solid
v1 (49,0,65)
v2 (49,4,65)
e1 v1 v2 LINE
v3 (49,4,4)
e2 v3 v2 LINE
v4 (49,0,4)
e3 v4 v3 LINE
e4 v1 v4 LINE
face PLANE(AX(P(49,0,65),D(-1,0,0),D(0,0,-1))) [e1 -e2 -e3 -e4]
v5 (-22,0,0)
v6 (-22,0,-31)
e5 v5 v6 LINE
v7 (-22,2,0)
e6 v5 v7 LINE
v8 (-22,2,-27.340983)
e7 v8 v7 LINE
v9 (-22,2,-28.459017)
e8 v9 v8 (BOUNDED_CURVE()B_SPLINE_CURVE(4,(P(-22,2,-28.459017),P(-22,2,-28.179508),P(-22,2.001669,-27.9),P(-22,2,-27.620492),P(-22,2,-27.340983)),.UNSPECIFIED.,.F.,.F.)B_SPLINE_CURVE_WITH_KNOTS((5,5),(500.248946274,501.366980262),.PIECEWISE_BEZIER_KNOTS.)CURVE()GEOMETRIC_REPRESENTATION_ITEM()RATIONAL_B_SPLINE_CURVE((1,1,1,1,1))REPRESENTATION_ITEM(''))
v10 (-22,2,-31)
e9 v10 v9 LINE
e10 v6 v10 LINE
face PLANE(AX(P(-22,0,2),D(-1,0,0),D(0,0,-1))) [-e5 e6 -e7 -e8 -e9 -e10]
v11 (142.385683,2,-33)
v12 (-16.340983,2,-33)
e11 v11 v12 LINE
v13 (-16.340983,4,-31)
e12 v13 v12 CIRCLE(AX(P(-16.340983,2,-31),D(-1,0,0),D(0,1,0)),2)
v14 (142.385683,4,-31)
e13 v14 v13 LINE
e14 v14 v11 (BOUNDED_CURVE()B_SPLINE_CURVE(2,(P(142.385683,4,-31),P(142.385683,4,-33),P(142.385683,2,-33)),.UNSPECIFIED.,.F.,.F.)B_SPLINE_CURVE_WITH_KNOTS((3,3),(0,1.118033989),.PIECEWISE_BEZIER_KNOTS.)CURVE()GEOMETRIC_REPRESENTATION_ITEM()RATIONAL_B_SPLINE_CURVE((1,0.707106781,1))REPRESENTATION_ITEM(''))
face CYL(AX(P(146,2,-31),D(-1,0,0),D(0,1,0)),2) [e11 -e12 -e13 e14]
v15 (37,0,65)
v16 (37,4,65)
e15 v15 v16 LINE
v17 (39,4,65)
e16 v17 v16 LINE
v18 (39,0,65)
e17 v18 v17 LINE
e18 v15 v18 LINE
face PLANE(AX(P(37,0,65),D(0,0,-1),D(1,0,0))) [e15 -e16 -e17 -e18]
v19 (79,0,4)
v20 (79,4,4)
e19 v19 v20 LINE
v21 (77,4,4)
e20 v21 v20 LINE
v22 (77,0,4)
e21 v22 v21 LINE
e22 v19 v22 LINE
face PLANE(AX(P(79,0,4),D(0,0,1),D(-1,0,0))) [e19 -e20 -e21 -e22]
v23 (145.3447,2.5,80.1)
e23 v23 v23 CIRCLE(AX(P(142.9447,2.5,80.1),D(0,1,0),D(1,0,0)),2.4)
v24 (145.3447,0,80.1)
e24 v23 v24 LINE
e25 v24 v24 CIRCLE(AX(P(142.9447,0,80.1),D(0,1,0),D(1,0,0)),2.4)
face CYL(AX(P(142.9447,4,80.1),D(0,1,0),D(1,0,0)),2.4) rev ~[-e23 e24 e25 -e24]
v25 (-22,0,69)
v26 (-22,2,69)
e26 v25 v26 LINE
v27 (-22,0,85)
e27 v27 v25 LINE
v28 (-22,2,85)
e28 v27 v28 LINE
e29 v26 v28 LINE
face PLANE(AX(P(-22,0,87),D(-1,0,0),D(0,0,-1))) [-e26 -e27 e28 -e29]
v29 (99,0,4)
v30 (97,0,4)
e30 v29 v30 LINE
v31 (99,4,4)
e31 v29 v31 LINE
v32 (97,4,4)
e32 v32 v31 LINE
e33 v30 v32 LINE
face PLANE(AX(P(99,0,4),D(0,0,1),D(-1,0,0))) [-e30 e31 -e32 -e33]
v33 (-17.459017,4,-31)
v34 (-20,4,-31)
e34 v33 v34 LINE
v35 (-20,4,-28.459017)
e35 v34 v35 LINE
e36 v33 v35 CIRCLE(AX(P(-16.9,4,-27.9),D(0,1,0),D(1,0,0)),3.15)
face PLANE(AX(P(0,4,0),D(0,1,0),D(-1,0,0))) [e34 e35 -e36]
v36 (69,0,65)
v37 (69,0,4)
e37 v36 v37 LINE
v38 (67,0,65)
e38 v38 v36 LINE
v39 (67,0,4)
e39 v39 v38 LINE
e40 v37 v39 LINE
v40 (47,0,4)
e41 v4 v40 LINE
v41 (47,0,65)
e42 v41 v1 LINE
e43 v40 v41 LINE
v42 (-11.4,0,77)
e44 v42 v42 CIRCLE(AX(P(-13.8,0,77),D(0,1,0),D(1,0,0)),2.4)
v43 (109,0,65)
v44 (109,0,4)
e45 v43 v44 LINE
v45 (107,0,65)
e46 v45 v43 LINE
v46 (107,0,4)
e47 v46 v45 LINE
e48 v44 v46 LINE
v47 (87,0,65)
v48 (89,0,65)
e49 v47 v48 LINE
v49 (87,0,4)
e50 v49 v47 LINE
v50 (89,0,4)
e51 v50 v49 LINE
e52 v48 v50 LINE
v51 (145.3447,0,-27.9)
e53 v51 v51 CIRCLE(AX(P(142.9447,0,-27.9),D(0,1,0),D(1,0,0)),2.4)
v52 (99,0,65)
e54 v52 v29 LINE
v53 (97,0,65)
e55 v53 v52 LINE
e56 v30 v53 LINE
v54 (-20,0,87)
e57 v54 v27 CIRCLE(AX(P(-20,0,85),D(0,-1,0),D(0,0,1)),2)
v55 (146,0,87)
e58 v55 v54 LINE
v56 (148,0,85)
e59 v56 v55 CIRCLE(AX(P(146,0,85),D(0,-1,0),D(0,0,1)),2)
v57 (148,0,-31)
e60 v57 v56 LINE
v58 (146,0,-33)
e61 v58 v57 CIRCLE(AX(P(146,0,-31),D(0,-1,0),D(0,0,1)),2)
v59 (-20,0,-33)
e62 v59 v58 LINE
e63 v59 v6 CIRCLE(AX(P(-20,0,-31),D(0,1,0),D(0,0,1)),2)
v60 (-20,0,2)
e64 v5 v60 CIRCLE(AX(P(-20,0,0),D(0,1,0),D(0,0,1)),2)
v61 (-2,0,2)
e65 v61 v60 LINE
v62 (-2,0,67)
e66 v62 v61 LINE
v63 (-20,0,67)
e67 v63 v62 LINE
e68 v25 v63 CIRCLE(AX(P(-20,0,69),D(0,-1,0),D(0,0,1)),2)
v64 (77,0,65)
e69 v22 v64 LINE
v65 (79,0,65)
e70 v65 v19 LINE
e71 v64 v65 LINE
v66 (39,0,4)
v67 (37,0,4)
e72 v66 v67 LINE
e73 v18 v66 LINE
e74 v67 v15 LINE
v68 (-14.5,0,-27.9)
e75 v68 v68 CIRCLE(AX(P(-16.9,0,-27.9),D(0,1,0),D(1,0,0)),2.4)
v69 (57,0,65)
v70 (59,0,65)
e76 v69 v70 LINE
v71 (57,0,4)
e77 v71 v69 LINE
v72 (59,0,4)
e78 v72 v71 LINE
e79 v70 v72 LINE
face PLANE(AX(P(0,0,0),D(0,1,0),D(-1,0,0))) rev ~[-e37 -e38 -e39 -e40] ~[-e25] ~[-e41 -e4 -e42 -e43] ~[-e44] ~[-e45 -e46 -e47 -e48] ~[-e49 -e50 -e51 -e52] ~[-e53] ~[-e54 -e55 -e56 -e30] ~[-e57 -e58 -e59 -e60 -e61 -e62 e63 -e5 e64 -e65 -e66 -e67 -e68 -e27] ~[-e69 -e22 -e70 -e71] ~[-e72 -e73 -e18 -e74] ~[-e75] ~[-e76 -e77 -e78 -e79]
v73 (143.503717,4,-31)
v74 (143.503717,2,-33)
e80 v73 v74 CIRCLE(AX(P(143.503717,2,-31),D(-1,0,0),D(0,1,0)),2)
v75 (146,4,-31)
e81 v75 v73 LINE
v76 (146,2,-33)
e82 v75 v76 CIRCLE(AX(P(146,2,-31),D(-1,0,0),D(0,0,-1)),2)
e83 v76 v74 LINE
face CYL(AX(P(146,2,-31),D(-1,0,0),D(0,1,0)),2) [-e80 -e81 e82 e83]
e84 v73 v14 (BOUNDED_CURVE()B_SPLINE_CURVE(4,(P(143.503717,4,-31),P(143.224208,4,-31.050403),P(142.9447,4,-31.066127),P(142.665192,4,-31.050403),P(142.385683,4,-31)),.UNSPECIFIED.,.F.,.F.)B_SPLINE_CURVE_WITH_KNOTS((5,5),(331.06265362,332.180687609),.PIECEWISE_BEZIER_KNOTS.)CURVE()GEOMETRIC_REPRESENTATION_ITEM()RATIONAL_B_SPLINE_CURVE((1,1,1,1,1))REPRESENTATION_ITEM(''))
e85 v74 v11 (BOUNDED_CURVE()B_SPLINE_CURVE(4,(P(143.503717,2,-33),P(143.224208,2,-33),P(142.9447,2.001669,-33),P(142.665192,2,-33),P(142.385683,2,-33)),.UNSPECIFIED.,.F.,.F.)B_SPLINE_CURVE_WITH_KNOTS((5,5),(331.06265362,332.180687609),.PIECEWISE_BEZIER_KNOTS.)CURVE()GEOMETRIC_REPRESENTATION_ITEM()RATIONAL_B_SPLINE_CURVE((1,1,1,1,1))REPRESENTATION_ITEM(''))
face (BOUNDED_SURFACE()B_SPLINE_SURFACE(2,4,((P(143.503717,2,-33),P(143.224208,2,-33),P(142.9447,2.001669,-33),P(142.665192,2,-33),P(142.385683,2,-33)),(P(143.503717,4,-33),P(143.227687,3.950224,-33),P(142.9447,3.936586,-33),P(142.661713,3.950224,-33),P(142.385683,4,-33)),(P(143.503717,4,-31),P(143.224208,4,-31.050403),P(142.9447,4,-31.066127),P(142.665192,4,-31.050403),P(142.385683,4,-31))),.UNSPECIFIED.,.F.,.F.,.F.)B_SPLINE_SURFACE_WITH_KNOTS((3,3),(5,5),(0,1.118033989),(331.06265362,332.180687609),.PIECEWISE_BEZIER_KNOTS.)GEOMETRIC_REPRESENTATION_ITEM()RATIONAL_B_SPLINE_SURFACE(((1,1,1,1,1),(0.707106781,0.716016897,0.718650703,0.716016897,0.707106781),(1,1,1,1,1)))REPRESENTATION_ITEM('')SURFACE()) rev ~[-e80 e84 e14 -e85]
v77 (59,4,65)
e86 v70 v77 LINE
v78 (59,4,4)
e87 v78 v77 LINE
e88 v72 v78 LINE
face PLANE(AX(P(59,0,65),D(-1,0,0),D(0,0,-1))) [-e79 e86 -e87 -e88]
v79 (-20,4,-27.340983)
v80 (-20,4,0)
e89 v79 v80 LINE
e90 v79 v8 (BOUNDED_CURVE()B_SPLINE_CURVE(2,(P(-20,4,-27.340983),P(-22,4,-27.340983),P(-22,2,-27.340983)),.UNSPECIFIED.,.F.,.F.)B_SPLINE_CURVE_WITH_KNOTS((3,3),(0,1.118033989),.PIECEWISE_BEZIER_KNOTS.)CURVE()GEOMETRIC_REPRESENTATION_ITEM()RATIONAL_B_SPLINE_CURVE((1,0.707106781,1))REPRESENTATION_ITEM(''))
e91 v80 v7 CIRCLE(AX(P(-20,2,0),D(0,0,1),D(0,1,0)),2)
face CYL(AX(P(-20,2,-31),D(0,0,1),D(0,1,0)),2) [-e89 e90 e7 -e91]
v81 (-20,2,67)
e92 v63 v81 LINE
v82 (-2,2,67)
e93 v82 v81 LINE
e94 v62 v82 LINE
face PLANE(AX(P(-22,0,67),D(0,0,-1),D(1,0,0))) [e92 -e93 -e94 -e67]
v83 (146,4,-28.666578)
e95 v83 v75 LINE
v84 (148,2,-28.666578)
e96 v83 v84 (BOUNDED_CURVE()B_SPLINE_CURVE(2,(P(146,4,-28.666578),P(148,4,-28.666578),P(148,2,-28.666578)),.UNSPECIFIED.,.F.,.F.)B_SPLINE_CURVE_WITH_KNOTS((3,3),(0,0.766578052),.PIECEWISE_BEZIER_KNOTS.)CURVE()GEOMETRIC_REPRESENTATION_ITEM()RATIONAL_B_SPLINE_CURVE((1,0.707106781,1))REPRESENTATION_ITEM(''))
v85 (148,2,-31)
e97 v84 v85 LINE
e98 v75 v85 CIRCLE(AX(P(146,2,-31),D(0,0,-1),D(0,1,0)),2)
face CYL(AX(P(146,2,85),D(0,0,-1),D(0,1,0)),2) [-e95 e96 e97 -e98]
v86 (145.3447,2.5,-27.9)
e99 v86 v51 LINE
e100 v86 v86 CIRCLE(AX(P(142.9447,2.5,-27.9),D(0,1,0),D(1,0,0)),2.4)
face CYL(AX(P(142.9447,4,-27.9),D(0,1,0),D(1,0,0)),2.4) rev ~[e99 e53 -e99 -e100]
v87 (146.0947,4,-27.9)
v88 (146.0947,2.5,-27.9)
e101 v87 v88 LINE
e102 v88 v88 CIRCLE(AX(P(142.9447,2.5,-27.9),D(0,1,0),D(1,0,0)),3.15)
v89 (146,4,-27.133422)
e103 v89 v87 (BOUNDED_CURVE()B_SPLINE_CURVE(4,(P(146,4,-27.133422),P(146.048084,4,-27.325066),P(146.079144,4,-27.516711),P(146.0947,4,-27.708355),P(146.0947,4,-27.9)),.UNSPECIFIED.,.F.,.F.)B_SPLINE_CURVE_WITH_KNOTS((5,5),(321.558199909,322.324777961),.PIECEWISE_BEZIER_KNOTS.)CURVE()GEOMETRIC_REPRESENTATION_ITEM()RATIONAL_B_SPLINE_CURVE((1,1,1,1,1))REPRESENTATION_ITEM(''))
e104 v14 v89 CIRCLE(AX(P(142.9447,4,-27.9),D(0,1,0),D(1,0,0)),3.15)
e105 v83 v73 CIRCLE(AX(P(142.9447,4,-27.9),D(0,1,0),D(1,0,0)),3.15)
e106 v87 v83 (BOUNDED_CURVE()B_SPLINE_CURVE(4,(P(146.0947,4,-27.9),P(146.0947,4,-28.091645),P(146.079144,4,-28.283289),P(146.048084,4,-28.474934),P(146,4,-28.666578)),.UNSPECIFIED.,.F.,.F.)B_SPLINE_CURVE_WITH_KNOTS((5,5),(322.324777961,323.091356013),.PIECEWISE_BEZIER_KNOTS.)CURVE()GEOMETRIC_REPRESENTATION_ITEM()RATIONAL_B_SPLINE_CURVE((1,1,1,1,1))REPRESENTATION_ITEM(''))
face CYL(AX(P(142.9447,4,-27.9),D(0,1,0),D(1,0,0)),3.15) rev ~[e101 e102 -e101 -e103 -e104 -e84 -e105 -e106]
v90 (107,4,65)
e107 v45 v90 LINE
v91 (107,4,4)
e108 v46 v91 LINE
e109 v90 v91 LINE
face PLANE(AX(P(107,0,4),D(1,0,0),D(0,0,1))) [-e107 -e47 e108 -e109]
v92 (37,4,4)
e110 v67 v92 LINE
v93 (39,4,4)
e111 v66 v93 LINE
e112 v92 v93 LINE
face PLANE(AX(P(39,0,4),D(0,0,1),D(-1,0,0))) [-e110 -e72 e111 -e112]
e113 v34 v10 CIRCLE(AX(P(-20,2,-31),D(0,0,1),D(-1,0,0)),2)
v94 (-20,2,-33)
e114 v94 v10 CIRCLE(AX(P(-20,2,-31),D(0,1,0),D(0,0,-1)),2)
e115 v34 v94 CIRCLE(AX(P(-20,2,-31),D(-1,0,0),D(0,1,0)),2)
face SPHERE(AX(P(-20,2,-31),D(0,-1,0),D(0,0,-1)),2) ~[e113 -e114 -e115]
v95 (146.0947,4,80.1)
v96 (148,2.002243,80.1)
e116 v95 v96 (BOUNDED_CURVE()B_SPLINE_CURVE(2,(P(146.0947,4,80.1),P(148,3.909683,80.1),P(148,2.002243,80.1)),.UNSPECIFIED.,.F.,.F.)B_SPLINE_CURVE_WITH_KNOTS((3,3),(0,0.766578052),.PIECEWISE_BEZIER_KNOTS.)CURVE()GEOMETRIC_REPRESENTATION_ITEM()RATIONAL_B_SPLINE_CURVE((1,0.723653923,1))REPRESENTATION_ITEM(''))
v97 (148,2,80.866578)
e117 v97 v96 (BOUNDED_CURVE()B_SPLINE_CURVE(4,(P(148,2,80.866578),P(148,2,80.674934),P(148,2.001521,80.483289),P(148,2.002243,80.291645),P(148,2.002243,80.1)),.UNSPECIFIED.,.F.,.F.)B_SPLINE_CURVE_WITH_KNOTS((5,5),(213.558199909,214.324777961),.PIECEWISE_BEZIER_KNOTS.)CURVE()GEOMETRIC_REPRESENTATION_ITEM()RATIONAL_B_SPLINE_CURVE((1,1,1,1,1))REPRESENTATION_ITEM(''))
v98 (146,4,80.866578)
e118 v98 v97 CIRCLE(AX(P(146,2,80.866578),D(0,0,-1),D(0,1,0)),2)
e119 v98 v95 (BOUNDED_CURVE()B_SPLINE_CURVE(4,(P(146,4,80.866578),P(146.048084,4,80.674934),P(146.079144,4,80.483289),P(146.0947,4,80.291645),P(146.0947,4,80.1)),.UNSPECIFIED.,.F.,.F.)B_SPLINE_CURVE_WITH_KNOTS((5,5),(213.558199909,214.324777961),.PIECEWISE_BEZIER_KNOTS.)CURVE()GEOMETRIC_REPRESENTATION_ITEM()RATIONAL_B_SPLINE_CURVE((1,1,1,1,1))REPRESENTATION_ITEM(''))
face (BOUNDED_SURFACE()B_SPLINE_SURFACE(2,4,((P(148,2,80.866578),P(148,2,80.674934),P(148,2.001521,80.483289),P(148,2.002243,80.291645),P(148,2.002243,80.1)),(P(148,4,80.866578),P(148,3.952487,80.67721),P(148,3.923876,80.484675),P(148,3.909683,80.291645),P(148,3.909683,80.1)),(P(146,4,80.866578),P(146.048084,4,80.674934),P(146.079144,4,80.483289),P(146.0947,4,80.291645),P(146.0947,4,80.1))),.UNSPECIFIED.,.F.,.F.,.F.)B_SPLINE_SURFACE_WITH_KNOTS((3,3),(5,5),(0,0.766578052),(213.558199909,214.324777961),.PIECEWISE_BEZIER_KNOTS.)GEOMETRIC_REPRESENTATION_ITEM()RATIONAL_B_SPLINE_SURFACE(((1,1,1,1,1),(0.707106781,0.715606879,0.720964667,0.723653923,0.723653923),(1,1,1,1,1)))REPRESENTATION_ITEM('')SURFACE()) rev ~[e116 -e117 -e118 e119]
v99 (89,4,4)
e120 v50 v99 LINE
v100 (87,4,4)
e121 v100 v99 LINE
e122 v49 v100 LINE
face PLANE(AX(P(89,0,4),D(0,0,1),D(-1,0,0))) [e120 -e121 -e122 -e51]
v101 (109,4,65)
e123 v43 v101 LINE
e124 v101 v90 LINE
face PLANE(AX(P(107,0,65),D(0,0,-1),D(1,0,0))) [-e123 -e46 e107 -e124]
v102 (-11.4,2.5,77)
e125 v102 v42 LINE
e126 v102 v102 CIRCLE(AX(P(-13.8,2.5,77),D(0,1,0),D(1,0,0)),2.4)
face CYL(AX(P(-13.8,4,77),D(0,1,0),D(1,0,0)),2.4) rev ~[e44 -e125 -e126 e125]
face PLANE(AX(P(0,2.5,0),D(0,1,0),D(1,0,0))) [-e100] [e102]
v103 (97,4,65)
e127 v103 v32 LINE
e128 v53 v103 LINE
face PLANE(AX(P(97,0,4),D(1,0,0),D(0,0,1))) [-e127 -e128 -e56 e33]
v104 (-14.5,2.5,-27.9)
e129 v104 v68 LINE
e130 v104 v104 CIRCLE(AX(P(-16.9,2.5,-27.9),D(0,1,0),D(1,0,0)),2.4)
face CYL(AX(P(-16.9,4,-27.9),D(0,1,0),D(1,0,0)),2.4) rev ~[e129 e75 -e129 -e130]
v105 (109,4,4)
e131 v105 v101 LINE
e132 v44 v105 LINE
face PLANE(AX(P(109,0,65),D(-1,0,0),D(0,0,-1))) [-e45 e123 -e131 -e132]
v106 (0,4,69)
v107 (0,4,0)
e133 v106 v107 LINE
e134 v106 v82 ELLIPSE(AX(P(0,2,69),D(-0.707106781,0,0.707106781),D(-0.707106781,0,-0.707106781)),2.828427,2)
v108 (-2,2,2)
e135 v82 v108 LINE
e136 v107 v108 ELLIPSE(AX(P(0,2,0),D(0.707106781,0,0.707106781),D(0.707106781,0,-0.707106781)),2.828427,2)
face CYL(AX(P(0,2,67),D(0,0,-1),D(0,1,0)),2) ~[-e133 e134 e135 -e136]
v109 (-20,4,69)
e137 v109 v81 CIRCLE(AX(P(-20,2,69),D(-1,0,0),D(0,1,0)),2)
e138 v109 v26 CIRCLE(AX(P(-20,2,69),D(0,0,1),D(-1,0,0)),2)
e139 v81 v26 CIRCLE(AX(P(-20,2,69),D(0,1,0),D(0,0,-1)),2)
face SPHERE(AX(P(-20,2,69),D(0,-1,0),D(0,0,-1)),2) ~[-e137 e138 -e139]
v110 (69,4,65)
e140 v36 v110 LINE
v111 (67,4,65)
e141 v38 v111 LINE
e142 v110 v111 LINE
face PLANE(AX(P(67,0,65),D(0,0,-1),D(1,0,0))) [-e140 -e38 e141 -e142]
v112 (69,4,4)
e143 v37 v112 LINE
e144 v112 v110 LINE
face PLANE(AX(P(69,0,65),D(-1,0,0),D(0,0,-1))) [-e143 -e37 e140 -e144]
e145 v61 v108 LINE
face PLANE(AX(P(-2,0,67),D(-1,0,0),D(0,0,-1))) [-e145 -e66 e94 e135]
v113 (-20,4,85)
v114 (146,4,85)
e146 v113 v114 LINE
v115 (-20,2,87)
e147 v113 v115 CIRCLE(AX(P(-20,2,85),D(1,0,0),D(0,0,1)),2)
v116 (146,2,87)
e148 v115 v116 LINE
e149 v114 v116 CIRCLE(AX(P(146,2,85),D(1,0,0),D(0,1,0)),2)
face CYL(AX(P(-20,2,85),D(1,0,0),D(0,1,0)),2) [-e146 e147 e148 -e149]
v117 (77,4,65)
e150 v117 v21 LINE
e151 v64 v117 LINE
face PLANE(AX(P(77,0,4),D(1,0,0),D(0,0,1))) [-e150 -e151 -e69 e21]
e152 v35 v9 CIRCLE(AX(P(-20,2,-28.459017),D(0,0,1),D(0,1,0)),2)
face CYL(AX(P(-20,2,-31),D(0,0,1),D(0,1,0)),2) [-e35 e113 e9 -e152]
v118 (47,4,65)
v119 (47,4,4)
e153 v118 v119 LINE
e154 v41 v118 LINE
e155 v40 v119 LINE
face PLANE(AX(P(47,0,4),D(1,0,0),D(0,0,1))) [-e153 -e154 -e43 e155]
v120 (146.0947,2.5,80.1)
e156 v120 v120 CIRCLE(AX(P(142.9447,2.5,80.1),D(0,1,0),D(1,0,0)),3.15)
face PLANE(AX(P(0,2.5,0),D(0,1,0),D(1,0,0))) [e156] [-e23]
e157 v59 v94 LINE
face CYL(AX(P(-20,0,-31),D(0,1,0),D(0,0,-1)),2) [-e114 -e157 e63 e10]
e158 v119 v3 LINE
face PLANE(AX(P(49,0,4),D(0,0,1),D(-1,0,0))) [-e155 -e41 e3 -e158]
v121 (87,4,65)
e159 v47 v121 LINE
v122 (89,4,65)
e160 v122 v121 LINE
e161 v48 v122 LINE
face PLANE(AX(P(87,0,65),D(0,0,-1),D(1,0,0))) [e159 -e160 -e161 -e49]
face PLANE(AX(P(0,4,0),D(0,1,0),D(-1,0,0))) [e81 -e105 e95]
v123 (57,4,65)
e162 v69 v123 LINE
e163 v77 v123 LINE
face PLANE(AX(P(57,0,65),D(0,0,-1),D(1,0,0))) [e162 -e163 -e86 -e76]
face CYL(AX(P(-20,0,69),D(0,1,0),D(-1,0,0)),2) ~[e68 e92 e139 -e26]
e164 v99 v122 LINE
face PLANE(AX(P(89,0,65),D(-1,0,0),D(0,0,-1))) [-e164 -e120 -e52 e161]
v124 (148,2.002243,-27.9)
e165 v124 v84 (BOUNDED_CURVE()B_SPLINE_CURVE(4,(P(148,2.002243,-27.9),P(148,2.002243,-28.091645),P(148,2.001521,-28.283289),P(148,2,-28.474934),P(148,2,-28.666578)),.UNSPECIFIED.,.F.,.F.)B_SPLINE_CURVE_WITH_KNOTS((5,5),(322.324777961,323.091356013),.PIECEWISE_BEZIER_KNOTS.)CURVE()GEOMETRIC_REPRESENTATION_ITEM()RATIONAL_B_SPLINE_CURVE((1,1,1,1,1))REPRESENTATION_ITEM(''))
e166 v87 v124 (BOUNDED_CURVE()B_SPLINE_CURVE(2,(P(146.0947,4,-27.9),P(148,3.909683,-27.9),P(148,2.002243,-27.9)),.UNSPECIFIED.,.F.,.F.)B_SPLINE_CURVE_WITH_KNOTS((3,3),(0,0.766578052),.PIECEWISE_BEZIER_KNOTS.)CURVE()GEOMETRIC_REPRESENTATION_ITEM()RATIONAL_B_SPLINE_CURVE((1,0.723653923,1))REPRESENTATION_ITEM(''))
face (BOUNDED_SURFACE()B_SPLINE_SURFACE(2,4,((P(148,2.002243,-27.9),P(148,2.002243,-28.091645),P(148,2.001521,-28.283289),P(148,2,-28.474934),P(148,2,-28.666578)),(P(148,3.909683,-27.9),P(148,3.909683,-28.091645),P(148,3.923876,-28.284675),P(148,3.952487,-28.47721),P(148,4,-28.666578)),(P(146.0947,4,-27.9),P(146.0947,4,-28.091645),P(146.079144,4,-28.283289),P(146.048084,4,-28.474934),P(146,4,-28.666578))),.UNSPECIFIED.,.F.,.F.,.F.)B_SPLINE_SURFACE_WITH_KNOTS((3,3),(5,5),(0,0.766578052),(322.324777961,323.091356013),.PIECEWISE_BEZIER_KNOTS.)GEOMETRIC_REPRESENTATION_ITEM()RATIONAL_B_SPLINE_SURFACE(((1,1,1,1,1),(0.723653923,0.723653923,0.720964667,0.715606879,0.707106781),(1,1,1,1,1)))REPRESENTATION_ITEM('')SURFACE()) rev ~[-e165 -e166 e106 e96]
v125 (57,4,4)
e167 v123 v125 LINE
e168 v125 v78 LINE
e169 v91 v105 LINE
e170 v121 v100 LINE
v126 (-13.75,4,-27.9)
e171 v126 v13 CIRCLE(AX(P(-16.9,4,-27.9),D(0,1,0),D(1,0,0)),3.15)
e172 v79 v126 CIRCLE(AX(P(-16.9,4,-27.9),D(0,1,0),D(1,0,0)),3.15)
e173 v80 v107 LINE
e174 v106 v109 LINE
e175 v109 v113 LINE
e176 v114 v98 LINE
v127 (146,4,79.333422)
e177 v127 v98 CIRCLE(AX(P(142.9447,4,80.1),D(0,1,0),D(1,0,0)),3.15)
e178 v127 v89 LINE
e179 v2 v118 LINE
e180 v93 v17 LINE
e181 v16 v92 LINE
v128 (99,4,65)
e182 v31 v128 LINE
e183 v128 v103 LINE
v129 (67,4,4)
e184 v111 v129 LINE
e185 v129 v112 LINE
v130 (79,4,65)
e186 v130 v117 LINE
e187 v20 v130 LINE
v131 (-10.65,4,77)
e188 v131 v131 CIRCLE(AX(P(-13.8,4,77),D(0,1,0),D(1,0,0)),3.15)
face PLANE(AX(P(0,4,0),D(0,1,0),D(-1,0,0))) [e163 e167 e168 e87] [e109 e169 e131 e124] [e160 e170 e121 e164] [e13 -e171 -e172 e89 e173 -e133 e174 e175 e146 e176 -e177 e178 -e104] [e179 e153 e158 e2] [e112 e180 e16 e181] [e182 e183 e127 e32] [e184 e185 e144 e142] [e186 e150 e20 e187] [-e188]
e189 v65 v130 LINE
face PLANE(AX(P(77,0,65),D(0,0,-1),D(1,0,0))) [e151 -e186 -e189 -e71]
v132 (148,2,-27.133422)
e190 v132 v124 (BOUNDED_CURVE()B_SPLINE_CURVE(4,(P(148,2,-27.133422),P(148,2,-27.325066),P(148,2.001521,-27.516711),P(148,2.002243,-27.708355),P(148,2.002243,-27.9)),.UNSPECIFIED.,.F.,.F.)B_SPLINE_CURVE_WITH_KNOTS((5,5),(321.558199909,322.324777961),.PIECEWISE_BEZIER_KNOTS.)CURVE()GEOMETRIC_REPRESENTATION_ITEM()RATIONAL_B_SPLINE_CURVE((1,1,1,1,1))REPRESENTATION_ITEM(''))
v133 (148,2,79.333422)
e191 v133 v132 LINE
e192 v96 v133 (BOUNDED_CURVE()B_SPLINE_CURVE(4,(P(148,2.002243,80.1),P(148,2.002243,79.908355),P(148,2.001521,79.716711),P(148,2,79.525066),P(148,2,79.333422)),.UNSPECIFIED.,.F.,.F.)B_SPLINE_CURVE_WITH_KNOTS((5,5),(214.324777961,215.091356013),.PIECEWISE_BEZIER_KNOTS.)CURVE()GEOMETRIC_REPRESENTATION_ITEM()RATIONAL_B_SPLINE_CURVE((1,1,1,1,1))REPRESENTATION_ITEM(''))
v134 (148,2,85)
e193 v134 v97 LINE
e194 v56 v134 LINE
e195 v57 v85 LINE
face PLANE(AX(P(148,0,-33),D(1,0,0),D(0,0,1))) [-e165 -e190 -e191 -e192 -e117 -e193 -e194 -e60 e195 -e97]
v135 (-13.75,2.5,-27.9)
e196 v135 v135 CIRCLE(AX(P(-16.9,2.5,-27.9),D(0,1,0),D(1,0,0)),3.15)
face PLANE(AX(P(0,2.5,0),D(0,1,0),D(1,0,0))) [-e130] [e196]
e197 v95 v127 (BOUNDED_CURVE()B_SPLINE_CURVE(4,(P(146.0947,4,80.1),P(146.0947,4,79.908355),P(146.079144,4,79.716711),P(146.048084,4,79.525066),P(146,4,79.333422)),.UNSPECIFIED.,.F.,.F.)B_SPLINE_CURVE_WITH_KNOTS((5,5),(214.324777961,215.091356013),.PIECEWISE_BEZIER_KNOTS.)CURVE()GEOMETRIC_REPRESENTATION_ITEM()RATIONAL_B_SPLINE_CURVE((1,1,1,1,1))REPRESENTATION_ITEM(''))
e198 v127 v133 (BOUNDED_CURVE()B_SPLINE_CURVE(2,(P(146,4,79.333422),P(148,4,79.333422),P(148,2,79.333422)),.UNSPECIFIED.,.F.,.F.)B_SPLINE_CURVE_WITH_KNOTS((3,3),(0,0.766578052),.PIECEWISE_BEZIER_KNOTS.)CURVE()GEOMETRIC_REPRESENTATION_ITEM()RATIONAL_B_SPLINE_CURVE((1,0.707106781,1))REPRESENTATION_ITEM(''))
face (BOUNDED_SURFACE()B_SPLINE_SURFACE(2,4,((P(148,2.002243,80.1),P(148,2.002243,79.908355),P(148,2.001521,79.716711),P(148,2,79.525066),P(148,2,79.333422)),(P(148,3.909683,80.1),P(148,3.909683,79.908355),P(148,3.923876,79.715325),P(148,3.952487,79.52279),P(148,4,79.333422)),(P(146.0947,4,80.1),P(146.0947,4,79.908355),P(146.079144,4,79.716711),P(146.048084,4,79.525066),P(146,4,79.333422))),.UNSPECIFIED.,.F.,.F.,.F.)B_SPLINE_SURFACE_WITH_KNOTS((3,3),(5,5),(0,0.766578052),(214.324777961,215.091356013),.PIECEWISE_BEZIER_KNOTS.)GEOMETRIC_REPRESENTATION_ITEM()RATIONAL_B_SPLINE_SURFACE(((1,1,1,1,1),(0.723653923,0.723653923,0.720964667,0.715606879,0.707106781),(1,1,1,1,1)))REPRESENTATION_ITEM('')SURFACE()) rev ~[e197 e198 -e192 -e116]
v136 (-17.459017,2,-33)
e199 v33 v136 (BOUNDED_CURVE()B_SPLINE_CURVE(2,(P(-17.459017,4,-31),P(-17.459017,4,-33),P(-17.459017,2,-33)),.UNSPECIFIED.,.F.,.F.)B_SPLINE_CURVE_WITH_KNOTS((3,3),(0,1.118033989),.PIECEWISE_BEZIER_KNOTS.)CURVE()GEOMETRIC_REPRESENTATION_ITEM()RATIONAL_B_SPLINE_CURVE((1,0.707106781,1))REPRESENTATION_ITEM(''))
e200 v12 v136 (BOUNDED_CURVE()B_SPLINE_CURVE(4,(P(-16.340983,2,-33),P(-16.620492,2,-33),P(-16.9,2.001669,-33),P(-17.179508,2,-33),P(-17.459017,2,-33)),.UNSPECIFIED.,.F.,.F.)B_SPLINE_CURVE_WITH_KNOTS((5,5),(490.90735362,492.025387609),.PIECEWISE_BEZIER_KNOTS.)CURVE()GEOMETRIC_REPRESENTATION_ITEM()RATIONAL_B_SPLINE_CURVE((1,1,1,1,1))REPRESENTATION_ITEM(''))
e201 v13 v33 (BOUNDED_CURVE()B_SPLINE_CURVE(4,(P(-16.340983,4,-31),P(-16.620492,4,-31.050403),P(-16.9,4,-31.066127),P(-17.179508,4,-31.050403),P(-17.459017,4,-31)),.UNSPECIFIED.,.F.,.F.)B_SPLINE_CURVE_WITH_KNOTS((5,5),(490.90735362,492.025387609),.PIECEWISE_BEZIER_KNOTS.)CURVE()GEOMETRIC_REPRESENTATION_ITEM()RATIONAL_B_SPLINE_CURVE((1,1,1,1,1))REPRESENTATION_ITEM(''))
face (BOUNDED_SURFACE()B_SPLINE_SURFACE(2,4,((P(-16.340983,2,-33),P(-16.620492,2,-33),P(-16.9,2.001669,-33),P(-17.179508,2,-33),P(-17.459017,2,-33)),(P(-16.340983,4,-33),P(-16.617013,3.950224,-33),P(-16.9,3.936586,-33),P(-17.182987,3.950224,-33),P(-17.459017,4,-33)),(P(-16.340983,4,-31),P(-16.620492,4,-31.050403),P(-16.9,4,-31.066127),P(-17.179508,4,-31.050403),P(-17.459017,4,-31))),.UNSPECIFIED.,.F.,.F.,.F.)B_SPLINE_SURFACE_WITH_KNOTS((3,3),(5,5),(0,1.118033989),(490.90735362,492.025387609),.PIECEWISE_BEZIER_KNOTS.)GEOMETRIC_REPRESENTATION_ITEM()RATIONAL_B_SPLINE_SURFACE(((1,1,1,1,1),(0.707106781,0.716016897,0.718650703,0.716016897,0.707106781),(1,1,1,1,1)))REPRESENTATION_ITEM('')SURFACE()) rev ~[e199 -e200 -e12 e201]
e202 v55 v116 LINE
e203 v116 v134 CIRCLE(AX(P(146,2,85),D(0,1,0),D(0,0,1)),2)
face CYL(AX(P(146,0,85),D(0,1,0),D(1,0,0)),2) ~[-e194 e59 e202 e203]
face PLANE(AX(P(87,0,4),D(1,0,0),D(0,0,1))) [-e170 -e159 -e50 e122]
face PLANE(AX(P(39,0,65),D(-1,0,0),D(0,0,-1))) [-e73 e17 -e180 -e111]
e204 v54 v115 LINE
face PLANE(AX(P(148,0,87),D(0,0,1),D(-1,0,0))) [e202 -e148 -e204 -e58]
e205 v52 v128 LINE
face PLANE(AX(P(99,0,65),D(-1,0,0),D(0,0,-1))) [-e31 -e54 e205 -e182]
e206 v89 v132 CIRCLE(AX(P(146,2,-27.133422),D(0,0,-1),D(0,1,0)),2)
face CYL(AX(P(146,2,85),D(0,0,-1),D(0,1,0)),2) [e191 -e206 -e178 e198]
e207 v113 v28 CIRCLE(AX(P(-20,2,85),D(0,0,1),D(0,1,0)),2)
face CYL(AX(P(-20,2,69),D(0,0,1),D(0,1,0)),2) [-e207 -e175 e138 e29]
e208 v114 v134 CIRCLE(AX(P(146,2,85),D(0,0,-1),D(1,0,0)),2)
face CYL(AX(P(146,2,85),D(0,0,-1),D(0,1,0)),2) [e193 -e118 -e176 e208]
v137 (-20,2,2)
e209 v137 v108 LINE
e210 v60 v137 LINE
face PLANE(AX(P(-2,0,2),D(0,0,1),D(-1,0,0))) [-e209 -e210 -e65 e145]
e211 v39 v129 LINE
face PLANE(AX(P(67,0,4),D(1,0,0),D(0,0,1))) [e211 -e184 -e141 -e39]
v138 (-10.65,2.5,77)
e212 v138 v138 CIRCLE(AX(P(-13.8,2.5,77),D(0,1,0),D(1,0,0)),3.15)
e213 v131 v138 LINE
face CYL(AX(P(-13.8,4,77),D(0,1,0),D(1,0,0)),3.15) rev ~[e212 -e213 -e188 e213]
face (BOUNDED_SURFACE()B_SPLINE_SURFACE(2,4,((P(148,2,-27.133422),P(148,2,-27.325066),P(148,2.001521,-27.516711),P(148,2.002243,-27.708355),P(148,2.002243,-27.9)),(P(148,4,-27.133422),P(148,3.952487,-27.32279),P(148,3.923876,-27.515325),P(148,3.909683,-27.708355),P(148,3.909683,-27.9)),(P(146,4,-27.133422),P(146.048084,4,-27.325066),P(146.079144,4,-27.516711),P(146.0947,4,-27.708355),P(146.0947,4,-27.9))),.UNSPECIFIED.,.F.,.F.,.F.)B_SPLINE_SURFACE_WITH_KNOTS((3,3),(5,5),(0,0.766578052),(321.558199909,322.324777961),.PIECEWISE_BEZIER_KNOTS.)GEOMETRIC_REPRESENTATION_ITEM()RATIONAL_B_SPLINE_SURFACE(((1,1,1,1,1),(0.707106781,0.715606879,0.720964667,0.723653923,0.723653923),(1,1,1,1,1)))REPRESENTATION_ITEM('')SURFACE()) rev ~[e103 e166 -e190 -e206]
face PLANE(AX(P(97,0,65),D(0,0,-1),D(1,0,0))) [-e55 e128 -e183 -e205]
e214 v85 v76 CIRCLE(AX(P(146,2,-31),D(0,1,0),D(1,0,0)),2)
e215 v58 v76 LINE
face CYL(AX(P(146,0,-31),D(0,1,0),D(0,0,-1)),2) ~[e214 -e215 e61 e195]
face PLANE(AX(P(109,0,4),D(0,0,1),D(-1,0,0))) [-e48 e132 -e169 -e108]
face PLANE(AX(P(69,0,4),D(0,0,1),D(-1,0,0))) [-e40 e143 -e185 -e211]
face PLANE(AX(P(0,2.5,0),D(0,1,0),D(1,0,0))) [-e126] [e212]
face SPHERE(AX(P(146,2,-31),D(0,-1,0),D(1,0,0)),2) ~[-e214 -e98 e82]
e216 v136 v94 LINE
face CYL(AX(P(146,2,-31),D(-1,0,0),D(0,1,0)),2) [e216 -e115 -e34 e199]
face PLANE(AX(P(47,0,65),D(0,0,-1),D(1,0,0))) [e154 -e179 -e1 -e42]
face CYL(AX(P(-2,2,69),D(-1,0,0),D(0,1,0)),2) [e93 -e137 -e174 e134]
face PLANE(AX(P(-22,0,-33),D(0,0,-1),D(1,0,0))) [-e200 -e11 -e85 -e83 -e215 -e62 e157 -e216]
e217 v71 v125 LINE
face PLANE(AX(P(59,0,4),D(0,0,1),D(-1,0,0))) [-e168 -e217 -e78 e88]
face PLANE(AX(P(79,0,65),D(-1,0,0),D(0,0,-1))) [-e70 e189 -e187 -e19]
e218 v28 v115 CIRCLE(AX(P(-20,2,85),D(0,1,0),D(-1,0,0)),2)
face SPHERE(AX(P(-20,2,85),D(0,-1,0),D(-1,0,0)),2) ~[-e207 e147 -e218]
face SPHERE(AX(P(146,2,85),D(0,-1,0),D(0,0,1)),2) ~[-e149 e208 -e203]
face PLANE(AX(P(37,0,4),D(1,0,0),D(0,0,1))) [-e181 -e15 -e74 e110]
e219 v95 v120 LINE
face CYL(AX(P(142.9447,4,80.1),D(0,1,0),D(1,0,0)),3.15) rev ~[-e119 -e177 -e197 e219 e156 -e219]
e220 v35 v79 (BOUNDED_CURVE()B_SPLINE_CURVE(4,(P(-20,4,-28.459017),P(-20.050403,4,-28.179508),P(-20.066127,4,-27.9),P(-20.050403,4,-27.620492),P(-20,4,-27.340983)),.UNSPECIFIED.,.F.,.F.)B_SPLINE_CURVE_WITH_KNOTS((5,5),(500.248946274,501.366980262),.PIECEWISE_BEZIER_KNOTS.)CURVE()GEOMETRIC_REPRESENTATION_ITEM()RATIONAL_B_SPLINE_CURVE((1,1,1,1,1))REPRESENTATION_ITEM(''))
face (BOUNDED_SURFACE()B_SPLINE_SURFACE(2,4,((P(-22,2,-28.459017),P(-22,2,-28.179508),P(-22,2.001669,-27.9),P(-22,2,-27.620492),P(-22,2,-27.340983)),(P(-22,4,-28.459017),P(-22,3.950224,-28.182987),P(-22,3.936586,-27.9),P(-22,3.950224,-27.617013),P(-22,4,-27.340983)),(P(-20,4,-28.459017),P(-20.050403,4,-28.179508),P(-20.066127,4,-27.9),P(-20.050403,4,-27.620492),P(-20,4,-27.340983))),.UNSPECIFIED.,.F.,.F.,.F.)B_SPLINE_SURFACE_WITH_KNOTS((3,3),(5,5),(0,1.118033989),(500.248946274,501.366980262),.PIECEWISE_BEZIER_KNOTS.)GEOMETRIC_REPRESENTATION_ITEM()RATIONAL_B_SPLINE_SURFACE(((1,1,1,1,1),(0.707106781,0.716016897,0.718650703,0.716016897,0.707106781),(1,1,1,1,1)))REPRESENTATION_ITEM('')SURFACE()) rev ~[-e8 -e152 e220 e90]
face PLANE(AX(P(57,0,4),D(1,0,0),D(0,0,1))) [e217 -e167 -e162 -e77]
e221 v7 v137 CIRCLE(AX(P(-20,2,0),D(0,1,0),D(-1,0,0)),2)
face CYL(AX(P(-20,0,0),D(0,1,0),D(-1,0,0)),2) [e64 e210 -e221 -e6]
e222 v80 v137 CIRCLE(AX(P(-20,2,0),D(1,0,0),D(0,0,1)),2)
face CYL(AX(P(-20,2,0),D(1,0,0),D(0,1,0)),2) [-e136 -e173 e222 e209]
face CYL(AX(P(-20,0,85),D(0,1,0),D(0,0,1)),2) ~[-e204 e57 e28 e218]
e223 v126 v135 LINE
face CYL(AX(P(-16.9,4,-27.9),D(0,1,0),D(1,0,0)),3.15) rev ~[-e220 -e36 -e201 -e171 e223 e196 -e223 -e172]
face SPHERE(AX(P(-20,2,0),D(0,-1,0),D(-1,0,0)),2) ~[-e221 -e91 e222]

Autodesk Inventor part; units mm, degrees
ref_plane "YZ Plane" through (0, 0, 0) normal (1, 0, 0) x (0, 1, 0)
ref_plane "XZ Plane" through (0, 0, 0) normal (0, 1, 0) x (-1, 0, 0)
ref_plane "XY Plane" through (0, 0, 0) normal (0, 0, 1) x (1, 0, 0)
sketch "Sketch1" plane through (0, 0, 0) normal (0, 1, 0) x (-1, 0, 0)
  line L0 (22, -33) -> (-148, -33)
  line L1 (22, 2) -> (22, -33)
  line L2 (2, 2) -> (22, 2)
  line L3 (2, 67) -> (2, 2)
  line L4 (22, 67) -> (2, 67)
  line L5 (22, 87) -> (22, 67)
  line L6 (-148, 87) -> (22, 87)
  line L7 (-148, -33) -> (-148, 87)
  circle A0 centre (16.9, -27.9) radius 2.4
  circle A1 centre (13.8, 77) radius 2.4
  arc A2 (-145.3101, 79.6937) -> (-145.3101, 80.5063) centre (-142.9447, 80.1) ccw
  arc A3 (-142.9447, -30.3) -> (-145.3101, -27.4937) centre (-142.9447, -27.9) ccw
  circle A4 centre (-142.9447, -27.9) radius 2.4
  circle A5 centre (-142.9447, 80.1) radius 2.4
  point P0 (0, 0)
  point P1 (22, -33)
extrude "Extrusion1" add sketch "Sketch1" along normal blind 4
extrude "Extrusion2" add sketch "Sketch1" along normal blind 30 contours A0 | A1 | A5 A2 | A4 A3
fillet "Fillet1" radius 1 4 edges at (-11.4, 30, 77) (-14.5, 30, -27.9) (140.5794, 30, -28.3063) (140.5794, 30, 79.6937)
sketch "Sketch2" plane through (0, 4, 0) normal (0, 1, 0) x (1, 0, 0)
  circle A0 centre (-16.9, 27.9) radius 2.4 projected
  circle A1 centre (142.9447, 27.9) radius 2.4 projected
  circle A2 centre (142.9447, -80.1) radius 2.4 projected
  circle A3 centre (-13.8, -77) radius 2.4 projected
  point P0 (0, 0)
extrude "Extrusion3" cut sketch "Sketch2" along normal through all both and the other way through all
sketch "Sketch3" plane through (0, 0, 0) normal (0, -1, 0) x (1, 0, 0)
  line L0 (37, 65) -> (39, 65)
  line L1 (39, 65) -> (39, 4)
  line L2 (39, 4) -> (37, 4)
  line L3 (37, 4) -> (37, 65)
  point P0 (0, 0)
extrude "Extrusion4" cut sketch "Sketch3" against normal through all
pattern_linear "Rectangular Pattern1" count 8 spacing 10 along (1, 0, 0) of "Extrusion4"
sketch "Sketch4" plane through (0, 4, 0) normal (0, 1, 0) x (1, 0, 0)
  circle A0 centre (-16.9, 27.9) radius 2.4 projected
  circle A1 centre (142.9447, 27.9) radius 2.4 projected
  circle A2 centre (142.9447, -80.1) radius 2.4 projected
  circle A3 centre (-13.8, -77) radius 2.4 projected
  circle A4 centre (-16.9, 27.9) radius 3.15
  circle A5 centre (142.9447, 27.9) radius 3.15
  circle A6 centre (142.9447, -80.1) radius 3.15
  circle A7 centre (-13.8, -77) radius 3.15
  point P0 (0, 0)
  dimension "d16" = 0.75
  dimension "d17" = 0.75
  dimension "d18" = 0.75
  dimension "d19" = 0.75
extrude "Extrusion5" cut sketch "Sketch4" against normal blind 1.5 contours A0 | A1 | A2 | A3 | A4 | A5 | A6 | A7
fillet "Fillet2" radius 2 6 edges at (-22, 2, 67) (-22, 2, -33) (-22, 2, 2) (148, 2, -33) (148, 2, 87) (-22, 2, 87)
fillet "Fillet3" radius 2 14 edges at (-2, 4, 34.5) (-21.4142, 4, 1.4142) (-11, 4, 2) (-21.4142, 4, -32.4142) (63, 4, -33) (147.4142, 4, -32.4142) (148, 4, 27) (147.4142, 4, 86.4142) (63, 4, 87) (-21.4142, 4, 86.4142) (-22, 4, 77) (-21.4142, 4, 67.5858) (-11, 4, 67) (-22, 4, -15.5)
properties material "ABS Plastic"
